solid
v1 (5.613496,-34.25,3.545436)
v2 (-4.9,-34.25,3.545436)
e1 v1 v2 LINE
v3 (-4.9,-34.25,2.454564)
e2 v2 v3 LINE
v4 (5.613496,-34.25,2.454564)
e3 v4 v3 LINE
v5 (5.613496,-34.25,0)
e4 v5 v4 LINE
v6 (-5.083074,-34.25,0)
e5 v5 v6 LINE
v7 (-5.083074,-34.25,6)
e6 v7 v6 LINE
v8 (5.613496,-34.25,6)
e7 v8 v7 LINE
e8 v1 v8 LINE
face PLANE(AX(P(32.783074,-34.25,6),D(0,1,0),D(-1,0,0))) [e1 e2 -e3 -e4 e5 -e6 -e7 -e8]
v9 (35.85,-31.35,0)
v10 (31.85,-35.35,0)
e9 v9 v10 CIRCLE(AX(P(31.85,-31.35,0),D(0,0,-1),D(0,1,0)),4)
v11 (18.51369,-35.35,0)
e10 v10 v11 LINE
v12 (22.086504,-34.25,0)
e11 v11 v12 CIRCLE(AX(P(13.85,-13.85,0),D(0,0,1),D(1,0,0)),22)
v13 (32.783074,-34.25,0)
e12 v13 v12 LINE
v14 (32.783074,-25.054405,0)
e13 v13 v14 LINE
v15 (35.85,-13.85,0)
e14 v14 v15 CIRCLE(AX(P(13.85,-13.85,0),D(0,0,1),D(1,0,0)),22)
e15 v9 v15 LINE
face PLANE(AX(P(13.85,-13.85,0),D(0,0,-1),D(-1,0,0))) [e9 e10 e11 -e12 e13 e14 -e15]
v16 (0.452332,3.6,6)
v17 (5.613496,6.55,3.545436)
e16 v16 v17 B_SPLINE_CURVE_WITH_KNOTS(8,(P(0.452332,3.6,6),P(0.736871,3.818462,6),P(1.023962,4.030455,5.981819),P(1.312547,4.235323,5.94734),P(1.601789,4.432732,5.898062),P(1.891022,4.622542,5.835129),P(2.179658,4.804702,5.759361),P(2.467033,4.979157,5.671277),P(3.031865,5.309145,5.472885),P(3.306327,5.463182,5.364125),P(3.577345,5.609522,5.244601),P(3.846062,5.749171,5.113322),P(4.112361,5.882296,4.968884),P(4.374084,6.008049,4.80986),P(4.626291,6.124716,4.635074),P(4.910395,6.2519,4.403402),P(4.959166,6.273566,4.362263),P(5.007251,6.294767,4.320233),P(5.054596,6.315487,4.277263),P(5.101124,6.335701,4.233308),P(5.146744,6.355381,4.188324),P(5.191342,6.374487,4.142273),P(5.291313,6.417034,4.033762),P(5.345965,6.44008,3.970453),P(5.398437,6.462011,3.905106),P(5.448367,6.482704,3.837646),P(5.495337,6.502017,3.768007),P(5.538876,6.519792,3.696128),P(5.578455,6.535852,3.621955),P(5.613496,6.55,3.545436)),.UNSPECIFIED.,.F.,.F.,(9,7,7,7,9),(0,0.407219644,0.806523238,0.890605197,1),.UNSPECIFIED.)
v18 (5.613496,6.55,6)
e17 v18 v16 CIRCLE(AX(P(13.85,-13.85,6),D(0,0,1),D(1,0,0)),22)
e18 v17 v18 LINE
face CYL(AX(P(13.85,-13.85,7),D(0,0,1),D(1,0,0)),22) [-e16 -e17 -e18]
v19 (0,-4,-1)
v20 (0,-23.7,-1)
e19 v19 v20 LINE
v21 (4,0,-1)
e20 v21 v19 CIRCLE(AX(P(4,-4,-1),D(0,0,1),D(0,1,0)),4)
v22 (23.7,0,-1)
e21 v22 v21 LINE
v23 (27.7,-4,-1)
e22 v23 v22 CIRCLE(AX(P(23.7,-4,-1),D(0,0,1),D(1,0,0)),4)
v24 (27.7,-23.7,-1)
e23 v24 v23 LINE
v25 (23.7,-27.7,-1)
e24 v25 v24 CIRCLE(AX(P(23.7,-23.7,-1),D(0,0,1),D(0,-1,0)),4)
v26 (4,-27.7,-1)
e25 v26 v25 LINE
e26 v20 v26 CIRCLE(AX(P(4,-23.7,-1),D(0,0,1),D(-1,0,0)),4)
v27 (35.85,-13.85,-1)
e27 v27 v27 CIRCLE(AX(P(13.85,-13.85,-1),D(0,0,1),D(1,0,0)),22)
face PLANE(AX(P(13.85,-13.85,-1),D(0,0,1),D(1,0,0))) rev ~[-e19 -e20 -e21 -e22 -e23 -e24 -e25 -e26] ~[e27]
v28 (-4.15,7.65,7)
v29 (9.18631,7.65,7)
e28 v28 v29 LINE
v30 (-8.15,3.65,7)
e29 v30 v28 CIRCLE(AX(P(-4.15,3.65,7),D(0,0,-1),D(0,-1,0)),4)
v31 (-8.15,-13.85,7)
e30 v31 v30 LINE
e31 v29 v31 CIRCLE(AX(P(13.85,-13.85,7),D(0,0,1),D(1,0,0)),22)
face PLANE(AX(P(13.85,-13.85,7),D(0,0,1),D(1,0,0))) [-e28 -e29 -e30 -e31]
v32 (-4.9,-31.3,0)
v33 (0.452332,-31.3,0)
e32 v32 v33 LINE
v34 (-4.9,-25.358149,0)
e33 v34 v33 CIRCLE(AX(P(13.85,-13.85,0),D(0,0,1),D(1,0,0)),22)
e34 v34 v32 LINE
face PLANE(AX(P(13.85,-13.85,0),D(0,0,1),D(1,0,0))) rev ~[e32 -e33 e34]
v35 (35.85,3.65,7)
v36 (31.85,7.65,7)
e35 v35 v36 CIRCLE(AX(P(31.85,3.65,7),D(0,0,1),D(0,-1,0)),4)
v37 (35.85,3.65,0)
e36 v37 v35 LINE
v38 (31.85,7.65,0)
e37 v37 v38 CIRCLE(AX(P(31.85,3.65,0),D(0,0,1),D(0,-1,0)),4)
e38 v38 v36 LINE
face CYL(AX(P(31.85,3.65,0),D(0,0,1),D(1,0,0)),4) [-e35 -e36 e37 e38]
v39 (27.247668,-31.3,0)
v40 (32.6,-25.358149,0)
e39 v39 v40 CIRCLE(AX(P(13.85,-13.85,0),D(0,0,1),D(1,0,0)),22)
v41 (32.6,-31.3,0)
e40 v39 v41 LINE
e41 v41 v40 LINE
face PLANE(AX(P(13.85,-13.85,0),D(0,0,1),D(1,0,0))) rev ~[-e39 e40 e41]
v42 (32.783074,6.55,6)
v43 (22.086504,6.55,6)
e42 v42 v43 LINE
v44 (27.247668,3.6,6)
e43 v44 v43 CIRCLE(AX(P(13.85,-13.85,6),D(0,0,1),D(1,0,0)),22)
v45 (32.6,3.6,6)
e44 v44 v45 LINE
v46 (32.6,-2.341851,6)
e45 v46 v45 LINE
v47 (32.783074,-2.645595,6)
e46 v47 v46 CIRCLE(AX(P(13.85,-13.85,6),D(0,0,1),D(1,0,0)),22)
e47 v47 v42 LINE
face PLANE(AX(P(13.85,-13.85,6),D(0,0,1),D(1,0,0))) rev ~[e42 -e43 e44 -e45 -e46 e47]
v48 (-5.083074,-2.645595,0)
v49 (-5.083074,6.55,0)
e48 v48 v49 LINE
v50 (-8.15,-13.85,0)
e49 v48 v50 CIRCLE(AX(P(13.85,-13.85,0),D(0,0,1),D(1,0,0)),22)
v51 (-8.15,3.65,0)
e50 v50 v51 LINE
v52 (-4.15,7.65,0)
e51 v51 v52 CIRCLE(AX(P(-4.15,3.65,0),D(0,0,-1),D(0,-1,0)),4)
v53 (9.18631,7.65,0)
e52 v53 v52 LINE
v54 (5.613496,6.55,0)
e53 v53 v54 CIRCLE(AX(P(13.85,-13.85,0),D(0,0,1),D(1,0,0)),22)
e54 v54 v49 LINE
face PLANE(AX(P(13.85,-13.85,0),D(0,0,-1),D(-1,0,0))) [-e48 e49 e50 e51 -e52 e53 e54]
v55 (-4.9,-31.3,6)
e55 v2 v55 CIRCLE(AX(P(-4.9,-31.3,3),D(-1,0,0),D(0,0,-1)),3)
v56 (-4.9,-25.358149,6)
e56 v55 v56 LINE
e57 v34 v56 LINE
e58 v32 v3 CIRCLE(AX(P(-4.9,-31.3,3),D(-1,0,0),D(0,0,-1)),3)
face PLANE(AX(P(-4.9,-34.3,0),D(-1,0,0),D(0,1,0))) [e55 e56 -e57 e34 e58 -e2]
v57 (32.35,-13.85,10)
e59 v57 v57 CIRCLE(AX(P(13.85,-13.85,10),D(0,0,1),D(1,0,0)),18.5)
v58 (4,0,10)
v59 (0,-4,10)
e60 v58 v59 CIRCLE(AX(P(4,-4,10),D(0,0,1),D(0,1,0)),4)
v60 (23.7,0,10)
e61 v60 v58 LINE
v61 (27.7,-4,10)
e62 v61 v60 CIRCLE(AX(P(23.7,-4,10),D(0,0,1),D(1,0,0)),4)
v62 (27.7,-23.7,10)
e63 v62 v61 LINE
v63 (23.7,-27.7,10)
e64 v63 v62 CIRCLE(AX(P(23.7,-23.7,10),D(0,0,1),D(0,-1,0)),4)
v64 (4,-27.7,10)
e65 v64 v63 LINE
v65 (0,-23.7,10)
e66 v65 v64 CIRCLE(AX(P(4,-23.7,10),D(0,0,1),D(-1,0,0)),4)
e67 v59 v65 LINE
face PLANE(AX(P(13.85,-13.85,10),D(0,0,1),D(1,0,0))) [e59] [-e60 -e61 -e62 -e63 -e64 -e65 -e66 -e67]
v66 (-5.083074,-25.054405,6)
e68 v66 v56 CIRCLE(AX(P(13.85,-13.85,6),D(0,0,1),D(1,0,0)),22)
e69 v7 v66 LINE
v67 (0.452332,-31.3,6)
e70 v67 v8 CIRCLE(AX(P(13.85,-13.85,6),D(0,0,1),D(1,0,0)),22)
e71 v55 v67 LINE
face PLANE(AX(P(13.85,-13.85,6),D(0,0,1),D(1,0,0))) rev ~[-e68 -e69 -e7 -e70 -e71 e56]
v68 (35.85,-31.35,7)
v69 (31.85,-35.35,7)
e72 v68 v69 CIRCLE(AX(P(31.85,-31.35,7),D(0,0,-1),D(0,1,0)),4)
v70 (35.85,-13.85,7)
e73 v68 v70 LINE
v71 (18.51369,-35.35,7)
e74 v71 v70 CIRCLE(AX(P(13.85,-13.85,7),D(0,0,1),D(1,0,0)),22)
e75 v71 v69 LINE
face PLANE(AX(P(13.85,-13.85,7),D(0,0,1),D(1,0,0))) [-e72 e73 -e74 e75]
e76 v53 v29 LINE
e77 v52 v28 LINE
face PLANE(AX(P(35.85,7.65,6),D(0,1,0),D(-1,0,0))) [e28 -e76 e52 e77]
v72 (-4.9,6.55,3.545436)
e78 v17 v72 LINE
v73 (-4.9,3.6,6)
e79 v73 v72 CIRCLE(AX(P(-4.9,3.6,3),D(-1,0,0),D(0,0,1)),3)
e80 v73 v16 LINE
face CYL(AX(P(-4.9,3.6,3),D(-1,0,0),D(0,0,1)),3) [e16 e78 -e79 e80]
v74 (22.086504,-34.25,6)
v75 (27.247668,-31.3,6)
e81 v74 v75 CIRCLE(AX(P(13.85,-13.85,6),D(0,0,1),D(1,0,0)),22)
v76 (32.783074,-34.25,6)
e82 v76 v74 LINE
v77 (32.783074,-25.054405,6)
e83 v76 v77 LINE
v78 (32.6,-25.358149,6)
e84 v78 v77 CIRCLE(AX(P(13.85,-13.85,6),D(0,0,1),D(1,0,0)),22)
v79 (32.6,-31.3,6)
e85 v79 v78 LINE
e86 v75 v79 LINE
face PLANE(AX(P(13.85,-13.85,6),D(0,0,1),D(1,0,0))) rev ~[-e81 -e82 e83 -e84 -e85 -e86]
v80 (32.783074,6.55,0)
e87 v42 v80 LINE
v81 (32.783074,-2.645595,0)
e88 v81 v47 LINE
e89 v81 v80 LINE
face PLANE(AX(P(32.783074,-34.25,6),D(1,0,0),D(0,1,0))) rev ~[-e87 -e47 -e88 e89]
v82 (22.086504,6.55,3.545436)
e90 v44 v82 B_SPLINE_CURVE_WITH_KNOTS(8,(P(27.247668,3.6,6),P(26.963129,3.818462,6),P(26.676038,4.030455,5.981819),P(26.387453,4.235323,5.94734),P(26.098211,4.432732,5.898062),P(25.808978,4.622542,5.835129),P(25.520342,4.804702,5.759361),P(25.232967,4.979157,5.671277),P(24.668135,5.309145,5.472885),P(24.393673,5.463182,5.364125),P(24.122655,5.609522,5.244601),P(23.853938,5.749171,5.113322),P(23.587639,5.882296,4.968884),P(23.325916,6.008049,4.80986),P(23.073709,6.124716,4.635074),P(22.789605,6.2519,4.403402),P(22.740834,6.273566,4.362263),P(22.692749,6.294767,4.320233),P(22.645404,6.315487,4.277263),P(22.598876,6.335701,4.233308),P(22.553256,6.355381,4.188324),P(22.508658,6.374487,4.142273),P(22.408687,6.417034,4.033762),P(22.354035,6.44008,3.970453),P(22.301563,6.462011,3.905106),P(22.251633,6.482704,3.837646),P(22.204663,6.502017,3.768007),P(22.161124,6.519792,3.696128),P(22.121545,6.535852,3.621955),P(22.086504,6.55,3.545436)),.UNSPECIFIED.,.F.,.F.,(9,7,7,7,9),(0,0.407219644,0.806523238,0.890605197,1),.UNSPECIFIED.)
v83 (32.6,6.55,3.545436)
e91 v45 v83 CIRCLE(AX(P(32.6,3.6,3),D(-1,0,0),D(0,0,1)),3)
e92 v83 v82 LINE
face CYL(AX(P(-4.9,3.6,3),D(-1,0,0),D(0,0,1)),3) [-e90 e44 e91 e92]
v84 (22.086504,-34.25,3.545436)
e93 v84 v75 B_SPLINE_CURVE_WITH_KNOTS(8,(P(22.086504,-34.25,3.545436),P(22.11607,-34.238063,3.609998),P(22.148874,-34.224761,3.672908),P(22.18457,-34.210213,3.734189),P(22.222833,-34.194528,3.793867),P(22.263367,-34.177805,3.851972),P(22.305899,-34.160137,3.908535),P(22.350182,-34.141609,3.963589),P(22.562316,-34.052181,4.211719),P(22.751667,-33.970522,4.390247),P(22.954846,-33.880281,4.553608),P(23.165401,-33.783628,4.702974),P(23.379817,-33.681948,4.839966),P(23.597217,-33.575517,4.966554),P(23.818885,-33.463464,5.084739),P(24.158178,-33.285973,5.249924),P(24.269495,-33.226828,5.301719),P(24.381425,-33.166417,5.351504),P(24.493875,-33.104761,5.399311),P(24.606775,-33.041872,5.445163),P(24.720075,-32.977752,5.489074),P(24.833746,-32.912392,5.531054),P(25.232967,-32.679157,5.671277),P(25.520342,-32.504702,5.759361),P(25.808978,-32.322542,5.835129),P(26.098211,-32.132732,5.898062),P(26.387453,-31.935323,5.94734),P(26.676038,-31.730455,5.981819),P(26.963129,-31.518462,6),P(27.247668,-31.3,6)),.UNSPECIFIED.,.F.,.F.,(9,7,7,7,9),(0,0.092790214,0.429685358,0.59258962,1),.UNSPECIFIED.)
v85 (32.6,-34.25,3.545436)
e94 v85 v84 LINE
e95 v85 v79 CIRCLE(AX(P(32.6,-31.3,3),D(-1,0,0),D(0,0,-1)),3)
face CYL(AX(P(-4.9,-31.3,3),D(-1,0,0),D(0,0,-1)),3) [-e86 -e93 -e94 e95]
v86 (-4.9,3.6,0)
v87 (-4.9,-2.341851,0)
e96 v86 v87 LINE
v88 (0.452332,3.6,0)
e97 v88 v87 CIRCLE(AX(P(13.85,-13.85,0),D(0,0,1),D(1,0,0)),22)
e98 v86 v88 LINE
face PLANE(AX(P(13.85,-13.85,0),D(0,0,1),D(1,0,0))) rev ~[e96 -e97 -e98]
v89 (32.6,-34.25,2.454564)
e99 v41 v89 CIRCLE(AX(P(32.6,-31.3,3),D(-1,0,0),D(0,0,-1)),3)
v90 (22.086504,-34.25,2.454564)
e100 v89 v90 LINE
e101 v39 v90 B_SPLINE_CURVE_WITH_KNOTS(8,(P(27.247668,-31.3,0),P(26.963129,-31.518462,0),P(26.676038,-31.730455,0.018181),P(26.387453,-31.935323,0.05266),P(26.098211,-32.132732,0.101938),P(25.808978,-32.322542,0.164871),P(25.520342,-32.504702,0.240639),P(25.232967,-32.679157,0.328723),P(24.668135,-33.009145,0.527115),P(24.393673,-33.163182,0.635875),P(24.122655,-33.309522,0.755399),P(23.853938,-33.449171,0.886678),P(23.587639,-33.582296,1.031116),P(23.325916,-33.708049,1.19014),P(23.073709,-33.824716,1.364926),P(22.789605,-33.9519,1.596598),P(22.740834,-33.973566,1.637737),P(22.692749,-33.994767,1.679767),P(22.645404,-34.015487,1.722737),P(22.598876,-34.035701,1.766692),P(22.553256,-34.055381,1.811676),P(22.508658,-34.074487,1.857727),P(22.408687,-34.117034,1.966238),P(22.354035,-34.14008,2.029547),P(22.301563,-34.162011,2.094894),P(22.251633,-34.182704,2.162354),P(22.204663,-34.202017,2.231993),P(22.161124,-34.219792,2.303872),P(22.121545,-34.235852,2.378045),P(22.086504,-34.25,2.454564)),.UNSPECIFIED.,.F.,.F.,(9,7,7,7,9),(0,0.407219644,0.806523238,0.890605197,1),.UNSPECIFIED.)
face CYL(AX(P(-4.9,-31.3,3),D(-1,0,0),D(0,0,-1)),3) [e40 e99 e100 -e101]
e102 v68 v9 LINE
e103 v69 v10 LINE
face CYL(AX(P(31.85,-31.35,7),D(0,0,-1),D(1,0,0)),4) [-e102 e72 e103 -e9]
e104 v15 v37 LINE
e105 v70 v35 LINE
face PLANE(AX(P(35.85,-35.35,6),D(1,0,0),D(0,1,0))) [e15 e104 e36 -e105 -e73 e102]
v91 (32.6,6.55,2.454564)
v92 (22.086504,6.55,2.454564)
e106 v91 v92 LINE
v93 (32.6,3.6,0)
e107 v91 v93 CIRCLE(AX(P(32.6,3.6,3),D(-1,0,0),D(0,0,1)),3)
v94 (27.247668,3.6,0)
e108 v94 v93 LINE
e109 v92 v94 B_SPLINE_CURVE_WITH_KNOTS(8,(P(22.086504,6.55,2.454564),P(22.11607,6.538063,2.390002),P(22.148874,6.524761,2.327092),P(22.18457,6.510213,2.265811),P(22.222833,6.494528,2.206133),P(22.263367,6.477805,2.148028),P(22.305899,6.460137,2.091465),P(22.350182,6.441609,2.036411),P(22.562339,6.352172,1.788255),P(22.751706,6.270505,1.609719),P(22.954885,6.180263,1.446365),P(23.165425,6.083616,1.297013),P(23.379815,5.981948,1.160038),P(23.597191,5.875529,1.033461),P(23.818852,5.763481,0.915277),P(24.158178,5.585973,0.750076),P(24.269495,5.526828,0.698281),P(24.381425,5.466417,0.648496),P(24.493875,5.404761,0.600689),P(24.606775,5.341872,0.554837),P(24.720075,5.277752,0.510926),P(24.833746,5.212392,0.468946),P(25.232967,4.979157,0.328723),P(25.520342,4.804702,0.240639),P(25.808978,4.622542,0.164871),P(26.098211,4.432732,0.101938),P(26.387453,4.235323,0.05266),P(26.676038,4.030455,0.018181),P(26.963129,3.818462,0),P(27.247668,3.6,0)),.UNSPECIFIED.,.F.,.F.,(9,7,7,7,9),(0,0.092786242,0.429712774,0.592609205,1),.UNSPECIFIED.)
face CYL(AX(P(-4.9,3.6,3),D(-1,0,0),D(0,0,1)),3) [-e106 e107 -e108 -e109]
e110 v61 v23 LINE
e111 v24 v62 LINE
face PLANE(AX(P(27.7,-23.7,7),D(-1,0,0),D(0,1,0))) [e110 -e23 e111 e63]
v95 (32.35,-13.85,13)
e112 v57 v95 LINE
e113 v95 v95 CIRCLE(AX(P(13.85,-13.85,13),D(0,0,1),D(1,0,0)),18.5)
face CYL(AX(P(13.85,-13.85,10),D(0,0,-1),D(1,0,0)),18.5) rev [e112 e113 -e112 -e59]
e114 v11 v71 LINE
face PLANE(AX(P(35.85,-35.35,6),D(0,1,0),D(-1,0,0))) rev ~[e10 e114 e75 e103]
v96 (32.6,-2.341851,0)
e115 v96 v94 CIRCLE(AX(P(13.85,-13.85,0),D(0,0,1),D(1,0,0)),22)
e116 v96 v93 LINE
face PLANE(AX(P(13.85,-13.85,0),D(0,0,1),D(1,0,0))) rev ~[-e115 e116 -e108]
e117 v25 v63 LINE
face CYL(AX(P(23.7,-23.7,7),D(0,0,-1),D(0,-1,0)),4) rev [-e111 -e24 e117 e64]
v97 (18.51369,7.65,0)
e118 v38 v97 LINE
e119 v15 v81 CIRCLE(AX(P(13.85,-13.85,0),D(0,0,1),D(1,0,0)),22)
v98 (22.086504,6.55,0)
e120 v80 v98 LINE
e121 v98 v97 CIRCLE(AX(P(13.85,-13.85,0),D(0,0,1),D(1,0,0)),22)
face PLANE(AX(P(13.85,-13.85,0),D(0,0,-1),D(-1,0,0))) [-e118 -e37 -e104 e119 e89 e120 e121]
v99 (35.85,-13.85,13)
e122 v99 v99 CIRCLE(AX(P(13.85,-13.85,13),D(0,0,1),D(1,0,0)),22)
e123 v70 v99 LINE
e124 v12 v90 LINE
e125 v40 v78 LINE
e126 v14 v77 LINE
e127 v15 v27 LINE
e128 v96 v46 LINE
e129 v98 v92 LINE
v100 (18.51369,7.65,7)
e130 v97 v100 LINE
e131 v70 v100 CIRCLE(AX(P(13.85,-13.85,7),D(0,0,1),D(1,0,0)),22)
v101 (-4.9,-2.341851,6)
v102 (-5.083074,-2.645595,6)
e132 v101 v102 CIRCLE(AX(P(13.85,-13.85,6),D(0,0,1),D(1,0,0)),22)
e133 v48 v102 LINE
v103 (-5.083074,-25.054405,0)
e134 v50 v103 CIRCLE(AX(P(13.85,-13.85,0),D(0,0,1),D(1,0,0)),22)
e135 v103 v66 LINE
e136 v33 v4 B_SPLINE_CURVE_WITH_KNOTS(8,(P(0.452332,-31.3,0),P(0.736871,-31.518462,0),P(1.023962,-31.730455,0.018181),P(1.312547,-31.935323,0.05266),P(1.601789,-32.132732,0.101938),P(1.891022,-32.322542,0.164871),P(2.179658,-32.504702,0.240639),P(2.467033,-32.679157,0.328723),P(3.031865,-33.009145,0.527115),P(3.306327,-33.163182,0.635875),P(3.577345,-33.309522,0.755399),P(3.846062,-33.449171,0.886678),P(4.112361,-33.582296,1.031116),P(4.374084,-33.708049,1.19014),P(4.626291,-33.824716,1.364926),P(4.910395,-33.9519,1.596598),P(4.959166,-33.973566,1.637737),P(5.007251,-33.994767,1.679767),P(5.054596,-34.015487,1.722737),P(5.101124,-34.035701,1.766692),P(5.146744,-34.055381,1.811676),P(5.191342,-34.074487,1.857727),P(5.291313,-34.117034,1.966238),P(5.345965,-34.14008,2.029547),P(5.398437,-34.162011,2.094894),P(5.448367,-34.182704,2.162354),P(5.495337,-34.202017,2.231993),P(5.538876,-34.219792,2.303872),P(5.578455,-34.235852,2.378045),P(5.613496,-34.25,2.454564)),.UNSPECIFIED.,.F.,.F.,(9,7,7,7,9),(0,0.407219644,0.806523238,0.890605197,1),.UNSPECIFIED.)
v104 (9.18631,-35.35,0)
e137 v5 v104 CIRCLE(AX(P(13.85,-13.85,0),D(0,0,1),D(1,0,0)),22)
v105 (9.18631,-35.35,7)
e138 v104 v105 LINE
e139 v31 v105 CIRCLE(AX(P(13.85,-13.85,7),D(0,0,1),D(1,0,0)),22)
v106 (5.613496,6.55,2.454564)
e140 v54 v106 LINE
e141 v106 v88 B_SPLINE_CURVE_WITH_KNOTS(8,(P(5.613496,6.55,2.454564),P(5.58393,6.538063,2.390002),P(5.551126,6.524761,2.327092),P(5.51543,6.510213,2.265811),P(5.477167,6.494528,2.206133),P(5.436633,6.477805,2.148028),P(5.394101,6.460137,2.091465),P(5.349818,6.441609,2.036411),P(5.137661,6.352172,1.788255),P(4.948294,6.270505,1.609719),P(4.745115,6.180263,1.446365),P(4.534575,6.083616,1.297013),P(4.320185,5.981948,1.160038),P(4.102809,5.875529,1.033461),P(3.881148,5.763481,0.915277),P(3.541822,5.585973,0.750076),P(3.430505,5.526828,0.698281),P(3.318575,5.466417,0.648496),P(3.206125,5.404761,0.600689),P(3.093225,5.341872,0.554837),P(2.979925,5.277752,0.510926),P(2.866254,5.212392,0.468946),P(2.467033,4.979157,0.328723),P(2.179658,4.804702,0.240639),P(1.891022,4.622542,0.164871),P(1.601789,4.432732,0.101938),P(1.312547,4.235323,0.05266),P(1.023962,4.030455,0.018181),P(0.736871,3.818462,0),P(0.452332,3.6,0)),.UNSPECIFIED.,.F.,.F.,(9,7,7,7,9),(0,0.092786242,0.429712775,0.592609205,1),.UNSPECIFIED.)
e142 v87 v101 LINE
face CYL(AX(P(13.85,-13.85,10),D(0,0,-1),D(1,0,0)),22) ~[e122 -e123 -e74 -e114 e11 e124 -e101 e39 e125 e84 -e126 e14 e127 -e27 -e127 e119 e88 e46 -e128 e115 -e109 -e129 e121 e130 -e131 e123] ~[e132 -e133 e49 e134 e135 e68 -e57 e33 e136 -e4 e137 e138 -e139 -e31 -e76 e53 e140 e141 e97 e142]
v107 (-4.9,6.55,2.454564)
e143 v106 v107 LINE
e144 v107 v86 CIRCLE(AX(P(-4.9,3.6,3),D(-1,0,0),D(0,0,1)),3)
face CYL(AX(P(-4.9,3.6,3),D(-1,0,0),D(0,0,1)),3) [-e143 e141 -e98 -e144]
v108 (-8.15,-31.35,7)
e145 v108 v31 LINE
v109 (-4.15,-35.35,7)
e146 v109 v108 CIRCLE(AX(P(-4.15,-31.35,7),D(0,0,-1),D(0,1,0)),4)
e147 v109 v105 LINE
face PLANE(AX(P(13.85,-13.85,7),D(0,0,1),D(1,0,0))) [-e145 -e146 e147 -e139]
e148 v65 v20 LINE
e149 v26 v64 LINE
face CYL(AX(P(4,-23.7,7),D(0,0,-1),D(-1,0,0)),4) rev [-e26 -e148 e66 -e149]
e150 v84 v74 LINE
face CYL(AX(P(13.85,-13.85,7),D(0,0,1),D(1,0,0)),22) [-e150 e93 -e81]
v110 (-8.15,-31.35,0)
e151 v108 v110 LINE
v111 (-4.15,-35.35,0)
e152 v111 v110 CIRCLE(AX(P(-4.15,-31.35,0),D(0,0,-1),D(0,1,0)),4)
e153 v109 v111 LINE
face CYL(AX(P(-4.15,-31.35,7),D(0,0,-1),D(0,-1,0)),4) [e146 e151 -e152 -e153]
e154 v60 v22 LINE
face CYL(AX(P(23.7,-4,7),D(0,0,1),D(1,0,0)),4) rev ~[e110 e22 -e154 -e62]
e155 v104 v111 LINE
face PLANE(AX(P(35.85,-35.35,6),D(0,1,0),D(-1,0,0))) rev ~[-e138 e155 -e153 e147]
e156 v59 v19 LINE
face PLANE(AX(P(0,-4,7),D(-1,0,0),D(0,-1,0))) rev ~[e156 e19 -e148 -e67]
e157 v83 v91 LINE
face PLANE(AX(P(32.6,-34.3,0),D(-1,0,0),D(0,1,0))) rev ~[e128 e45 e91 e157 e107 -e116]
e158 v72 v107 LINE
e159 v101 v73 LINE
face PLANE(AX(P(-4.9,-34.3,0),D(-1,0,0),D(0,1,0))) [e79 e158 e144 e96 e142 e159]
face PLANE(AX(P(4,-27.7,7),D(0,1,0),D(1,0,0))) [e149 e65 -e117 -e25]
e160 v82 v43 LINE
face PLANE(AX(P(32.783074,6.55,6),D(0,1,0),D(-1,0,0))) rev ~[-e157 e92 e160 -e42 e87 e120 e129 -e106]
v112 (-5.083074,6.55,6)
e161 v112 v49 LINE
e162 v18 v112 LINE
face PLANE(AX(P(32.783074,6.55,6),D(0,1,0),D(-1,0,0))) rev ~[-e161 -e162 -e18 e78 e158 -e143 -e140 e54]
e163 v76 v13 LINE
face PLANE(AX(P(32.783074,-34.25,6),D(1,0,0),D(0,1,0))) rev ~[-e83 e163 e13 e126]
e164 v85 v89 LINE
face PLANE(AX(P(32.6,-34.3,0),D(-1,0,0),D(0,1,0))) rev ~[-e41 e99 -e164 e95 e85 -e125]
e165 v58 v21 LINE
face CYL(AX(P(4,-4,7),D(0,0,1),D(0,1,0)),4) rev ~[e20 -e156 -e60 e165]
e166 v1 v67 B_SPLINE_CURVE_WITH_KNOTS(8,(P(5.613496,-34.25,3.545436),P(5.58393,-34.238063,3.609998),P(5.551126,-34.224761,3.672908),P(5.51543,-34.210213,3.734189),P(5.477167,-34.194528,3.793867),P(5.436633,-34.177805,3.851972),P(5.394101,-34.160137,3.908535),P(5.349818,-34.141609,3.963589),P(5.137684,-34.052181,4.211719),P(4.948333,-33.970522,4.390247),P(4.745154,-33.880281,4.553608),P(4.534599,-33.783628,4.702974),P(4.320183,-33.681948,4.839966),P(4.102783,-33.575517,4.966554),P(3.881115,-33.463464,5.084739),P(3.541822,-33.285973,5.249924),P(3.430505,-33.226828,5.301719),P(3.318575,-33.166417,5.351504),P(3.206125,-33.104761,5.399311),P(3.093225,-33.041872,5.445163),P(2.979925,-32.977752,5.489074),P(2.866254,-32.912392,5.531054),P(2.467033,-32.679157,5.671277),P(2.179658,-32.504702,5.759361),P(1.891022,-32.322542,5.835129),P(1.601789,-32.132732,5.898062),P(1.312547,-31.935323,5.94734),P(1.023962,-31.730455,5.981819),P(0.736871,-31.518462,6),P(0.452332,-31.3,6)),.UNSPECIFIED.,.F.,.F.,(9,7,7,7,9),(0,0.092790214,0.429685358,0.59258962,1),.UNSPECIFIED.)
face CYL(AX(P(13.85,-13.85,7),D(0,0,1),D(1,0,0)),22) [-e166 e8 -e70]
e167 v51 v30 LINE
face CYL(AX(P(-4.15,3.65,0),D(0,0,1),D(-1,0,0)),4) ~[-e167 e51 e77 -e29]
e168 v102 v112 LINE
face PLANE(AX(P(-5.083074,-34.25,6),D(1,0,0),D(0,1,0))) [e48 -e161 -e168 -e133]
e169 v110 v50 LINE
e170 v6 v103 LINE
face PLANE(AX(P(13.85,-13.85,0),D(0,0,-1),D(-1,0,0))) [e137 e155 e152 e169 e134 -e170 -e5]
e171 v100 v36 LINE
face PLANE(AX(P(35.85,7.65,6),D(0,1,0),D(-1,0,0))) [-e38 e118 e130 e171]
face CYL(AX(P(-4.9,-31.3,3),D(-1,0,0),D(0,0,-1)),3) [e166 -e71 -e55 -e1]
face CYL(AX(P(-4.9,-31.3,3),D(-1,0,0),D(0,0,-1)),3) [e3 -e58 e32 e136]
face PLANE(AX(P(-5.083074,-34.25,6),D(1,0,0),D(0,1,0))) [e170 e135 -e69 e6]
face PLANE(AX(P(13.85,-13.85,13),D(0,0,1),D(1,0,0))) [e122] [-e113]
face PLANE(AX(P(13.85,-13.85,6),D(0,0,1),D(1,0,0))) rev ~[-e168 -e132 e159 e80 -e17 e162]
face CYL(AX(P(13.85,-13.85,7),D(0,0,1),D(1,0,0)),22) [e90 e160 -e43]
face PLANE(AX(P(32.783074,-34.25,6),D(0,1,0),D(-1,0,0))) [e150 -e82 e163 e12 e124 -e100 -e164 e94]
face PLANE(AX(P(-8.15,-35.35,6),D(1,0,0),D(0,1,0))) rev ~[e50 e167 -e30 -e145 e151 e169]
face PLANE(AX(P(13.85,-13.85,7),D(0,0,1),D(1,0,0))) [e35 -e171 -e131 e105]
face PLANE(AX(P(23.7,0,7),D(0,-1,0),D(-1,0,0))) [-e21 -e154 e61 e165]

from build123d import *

# Parameters (mm, degrees)
SKETCH1_W                = 37.5
SKETCH1_H                = 40.9
SKETCH1_W_2              = 27.7
SKETCH1_H_2              = 27.7
BOSS_EXTRUDE1_DEPTH      = 6
SKETCH4_W                = 16.432066976
SKETCH4_H                = 47.432770651
CUT_EXTRUDE1_DEPTH       = 46
SKETCH5_W                = 44
SKETCH5_H                = 43
BOSS_EXTRUDE2_DEPTH      = 1
CUT_EXTRUDE2_DEPTH       = 1
SKETCH7_W                = 44
SKETCH7_H                = 43
SKETCH7_W_2              = 37.866148728
SKETCH7_H_2              = 40.8
BOSS_EXTRUDE3_DEPTH      = 6
FILLET1_R                = 4
SKETCH8_R                = 22
BOSS_EXTRUDE4_DEPTH      = 3
BOSS_EXTRUDE4_DEPTH_BACK = 8
SKETCH9_R                = 22
SKETCH9_R_2              = 18.5
BOSS_EXTRUDE5_DEPTH      = 3


with BuildPart() as part:
    # Sketch1 → Boss-Extrude1 (new body)
    with BuildSketch(Plane.XY):
        with Locations((13.85, -13.85)):
            Rectangle(SKETCH1_W, SKETCH1_H)
        with Locations((13.85, -13.85)):
            Rectangle(SKETCH1_W_2, SKETCH1_H_2, mode=Mode.SUBTRACT)
    extrude(amount=BOSS_EXTRUDE1_DEPTH)

    # Sketch4 → Cut-Extrude1 (cut)
    with BuildSketch(Plane.ZY.offset(4.9)):
        with Locations((3.592909633, -13.002986239)):
            Rectangle(SKETCH4_W, SKETCH4_H)
        with BuildLine():
            Line((0, 3.6), (0, -31.3))
            ThreePointArc((0, -31.3), (3, -34.3), (6, -31.3))
            Line((6, -31.3), (6, 3.6))
            ThreePointArc((6, 3.6), (3, 6.6), (0, 3.6))
        make_face(mode=Mode.SUBTRACT)
    extrude(amount=-CUT_EXTRUDE1_DEPTH, mode=Mode.SUBTRACT)

    # Sketch5 → Boss-Extrude2 (add)
    with BuildSketch(Plane.XY.offset(6)):
        with Locations((13.85, -13.85)):
            Rectangle(SKETCH5_W, SKETCH5_H)
    extrude(amount=BOSS_EXTRUDE2_DEPTH)

    # Sketch6 → Cut-Extrude2 (cut)
    with BuildSketch(Plane.XY.offset(7)):
        with BuildLine():
            Line((4, -27.7), (23.7, -27.7))
            ThreePointArc((23.7, -27.7), (26.528427125, -26.528427125), (27.7, -23.7))
            Line((27.7, -23.7), (27.7, -4))
            ThreePointArc((27.7, -4), (26.528427125, -1.171572875), (23.7, 0))
            Line((23.7, 0), (4, 0))
            ThreePointArc((4, 0), (1.171572875, -1.171572875), (0, -4))
            Line((0, -4), (0, -23.7))
            ThreePointArc((0, -23.7), (1.171572875, -26.528427125), (4, -27.7))
        make_face()
    extrude(amount=-CUT_EXTRUDE2_DEPTH, mode=Mode.SUBTRACT)

    # Sketch7 → Boss-Extrude3 (add)
    with BuildSketch(Plane(origin=(0, 0, 6), x_dir=(-1, 0, 0), z_dir=(0, 0, -1))):
        with Locations((-13.85, -13.85)):
            Rectangle(SKETCH7_W, SKETCH7_H)
        with Locations((-13.85, -13.85)):
            Rectangle(SKETCH7_W_2, SKETCH7_H_2, mode=Mode.SUBTRACT)
    extrude(amount=BOSS_EXTRUDE3_DEPTH)

    # Fillet1
    fillet1_edges = [part.edges().sort_by_distance(p)[0] for p in [
        (35.85, -35.35, 3.5),
        (35.85, 7.65, 3.5),
        (-8.15, 7.65, 3.5),
        (-8.15, -35.35, 3.5),
    ]]
    fillet(fillet1_edges, radius=FILLET1_R)

    # Sketch8 → Boss-Extrude4 (add, two sides)
    with BuildSketch(Plane.XY.offset(7)) as boss_extrude4_sk:
        with Locations((13.85, -13.85)):
            Circle(SKETCH8_R)
        with BuildLine():
            Line((27.7, -23.7), (27.7, -4))
            ThreePointArc((27.7, -4), (26.528427125, -1.171572875), (23.7, 0))
            Line((23.7, 0), (4, 0))
            ThreePointArc((4, 0), (1.171572875, -1.171572875), (0, -4))
            Line((0, -4), (0, -23.7))
            ThreePointArc((0, -23.7), (1.171572875, -26.528427125), (4, -27.7))
            Line((4, -27.7), (23.7, -27.7))
            ThreePointArc((23.7, -27.7), (26.528427125, -26.528427125), (27.7, -23.7))
        make_face(mode=Mode.SUBTRACT)
    extrude(amount=BOSS_EXTRUDE4_DEPTH)
    extrude(boss_extrude4_sk.sketch, amount=-BOSS_EXTRUDE4_DEPTH_BACK)

    # Sketch9 → Boss-Extrude5 (add)
    with BuildSketch(Plane.XY.offset(10)):
        with Locations((13.85, -13.85)):
            Circle(SKETCH9_R)
        with Locations((13.85, -13.85)):
            Circle(SKETCH9_R_2, mode=Mode.SUBTRACT)
    extrude(amount=BOSS_EXTRUDE5_DEPTH)


solid = part.part
